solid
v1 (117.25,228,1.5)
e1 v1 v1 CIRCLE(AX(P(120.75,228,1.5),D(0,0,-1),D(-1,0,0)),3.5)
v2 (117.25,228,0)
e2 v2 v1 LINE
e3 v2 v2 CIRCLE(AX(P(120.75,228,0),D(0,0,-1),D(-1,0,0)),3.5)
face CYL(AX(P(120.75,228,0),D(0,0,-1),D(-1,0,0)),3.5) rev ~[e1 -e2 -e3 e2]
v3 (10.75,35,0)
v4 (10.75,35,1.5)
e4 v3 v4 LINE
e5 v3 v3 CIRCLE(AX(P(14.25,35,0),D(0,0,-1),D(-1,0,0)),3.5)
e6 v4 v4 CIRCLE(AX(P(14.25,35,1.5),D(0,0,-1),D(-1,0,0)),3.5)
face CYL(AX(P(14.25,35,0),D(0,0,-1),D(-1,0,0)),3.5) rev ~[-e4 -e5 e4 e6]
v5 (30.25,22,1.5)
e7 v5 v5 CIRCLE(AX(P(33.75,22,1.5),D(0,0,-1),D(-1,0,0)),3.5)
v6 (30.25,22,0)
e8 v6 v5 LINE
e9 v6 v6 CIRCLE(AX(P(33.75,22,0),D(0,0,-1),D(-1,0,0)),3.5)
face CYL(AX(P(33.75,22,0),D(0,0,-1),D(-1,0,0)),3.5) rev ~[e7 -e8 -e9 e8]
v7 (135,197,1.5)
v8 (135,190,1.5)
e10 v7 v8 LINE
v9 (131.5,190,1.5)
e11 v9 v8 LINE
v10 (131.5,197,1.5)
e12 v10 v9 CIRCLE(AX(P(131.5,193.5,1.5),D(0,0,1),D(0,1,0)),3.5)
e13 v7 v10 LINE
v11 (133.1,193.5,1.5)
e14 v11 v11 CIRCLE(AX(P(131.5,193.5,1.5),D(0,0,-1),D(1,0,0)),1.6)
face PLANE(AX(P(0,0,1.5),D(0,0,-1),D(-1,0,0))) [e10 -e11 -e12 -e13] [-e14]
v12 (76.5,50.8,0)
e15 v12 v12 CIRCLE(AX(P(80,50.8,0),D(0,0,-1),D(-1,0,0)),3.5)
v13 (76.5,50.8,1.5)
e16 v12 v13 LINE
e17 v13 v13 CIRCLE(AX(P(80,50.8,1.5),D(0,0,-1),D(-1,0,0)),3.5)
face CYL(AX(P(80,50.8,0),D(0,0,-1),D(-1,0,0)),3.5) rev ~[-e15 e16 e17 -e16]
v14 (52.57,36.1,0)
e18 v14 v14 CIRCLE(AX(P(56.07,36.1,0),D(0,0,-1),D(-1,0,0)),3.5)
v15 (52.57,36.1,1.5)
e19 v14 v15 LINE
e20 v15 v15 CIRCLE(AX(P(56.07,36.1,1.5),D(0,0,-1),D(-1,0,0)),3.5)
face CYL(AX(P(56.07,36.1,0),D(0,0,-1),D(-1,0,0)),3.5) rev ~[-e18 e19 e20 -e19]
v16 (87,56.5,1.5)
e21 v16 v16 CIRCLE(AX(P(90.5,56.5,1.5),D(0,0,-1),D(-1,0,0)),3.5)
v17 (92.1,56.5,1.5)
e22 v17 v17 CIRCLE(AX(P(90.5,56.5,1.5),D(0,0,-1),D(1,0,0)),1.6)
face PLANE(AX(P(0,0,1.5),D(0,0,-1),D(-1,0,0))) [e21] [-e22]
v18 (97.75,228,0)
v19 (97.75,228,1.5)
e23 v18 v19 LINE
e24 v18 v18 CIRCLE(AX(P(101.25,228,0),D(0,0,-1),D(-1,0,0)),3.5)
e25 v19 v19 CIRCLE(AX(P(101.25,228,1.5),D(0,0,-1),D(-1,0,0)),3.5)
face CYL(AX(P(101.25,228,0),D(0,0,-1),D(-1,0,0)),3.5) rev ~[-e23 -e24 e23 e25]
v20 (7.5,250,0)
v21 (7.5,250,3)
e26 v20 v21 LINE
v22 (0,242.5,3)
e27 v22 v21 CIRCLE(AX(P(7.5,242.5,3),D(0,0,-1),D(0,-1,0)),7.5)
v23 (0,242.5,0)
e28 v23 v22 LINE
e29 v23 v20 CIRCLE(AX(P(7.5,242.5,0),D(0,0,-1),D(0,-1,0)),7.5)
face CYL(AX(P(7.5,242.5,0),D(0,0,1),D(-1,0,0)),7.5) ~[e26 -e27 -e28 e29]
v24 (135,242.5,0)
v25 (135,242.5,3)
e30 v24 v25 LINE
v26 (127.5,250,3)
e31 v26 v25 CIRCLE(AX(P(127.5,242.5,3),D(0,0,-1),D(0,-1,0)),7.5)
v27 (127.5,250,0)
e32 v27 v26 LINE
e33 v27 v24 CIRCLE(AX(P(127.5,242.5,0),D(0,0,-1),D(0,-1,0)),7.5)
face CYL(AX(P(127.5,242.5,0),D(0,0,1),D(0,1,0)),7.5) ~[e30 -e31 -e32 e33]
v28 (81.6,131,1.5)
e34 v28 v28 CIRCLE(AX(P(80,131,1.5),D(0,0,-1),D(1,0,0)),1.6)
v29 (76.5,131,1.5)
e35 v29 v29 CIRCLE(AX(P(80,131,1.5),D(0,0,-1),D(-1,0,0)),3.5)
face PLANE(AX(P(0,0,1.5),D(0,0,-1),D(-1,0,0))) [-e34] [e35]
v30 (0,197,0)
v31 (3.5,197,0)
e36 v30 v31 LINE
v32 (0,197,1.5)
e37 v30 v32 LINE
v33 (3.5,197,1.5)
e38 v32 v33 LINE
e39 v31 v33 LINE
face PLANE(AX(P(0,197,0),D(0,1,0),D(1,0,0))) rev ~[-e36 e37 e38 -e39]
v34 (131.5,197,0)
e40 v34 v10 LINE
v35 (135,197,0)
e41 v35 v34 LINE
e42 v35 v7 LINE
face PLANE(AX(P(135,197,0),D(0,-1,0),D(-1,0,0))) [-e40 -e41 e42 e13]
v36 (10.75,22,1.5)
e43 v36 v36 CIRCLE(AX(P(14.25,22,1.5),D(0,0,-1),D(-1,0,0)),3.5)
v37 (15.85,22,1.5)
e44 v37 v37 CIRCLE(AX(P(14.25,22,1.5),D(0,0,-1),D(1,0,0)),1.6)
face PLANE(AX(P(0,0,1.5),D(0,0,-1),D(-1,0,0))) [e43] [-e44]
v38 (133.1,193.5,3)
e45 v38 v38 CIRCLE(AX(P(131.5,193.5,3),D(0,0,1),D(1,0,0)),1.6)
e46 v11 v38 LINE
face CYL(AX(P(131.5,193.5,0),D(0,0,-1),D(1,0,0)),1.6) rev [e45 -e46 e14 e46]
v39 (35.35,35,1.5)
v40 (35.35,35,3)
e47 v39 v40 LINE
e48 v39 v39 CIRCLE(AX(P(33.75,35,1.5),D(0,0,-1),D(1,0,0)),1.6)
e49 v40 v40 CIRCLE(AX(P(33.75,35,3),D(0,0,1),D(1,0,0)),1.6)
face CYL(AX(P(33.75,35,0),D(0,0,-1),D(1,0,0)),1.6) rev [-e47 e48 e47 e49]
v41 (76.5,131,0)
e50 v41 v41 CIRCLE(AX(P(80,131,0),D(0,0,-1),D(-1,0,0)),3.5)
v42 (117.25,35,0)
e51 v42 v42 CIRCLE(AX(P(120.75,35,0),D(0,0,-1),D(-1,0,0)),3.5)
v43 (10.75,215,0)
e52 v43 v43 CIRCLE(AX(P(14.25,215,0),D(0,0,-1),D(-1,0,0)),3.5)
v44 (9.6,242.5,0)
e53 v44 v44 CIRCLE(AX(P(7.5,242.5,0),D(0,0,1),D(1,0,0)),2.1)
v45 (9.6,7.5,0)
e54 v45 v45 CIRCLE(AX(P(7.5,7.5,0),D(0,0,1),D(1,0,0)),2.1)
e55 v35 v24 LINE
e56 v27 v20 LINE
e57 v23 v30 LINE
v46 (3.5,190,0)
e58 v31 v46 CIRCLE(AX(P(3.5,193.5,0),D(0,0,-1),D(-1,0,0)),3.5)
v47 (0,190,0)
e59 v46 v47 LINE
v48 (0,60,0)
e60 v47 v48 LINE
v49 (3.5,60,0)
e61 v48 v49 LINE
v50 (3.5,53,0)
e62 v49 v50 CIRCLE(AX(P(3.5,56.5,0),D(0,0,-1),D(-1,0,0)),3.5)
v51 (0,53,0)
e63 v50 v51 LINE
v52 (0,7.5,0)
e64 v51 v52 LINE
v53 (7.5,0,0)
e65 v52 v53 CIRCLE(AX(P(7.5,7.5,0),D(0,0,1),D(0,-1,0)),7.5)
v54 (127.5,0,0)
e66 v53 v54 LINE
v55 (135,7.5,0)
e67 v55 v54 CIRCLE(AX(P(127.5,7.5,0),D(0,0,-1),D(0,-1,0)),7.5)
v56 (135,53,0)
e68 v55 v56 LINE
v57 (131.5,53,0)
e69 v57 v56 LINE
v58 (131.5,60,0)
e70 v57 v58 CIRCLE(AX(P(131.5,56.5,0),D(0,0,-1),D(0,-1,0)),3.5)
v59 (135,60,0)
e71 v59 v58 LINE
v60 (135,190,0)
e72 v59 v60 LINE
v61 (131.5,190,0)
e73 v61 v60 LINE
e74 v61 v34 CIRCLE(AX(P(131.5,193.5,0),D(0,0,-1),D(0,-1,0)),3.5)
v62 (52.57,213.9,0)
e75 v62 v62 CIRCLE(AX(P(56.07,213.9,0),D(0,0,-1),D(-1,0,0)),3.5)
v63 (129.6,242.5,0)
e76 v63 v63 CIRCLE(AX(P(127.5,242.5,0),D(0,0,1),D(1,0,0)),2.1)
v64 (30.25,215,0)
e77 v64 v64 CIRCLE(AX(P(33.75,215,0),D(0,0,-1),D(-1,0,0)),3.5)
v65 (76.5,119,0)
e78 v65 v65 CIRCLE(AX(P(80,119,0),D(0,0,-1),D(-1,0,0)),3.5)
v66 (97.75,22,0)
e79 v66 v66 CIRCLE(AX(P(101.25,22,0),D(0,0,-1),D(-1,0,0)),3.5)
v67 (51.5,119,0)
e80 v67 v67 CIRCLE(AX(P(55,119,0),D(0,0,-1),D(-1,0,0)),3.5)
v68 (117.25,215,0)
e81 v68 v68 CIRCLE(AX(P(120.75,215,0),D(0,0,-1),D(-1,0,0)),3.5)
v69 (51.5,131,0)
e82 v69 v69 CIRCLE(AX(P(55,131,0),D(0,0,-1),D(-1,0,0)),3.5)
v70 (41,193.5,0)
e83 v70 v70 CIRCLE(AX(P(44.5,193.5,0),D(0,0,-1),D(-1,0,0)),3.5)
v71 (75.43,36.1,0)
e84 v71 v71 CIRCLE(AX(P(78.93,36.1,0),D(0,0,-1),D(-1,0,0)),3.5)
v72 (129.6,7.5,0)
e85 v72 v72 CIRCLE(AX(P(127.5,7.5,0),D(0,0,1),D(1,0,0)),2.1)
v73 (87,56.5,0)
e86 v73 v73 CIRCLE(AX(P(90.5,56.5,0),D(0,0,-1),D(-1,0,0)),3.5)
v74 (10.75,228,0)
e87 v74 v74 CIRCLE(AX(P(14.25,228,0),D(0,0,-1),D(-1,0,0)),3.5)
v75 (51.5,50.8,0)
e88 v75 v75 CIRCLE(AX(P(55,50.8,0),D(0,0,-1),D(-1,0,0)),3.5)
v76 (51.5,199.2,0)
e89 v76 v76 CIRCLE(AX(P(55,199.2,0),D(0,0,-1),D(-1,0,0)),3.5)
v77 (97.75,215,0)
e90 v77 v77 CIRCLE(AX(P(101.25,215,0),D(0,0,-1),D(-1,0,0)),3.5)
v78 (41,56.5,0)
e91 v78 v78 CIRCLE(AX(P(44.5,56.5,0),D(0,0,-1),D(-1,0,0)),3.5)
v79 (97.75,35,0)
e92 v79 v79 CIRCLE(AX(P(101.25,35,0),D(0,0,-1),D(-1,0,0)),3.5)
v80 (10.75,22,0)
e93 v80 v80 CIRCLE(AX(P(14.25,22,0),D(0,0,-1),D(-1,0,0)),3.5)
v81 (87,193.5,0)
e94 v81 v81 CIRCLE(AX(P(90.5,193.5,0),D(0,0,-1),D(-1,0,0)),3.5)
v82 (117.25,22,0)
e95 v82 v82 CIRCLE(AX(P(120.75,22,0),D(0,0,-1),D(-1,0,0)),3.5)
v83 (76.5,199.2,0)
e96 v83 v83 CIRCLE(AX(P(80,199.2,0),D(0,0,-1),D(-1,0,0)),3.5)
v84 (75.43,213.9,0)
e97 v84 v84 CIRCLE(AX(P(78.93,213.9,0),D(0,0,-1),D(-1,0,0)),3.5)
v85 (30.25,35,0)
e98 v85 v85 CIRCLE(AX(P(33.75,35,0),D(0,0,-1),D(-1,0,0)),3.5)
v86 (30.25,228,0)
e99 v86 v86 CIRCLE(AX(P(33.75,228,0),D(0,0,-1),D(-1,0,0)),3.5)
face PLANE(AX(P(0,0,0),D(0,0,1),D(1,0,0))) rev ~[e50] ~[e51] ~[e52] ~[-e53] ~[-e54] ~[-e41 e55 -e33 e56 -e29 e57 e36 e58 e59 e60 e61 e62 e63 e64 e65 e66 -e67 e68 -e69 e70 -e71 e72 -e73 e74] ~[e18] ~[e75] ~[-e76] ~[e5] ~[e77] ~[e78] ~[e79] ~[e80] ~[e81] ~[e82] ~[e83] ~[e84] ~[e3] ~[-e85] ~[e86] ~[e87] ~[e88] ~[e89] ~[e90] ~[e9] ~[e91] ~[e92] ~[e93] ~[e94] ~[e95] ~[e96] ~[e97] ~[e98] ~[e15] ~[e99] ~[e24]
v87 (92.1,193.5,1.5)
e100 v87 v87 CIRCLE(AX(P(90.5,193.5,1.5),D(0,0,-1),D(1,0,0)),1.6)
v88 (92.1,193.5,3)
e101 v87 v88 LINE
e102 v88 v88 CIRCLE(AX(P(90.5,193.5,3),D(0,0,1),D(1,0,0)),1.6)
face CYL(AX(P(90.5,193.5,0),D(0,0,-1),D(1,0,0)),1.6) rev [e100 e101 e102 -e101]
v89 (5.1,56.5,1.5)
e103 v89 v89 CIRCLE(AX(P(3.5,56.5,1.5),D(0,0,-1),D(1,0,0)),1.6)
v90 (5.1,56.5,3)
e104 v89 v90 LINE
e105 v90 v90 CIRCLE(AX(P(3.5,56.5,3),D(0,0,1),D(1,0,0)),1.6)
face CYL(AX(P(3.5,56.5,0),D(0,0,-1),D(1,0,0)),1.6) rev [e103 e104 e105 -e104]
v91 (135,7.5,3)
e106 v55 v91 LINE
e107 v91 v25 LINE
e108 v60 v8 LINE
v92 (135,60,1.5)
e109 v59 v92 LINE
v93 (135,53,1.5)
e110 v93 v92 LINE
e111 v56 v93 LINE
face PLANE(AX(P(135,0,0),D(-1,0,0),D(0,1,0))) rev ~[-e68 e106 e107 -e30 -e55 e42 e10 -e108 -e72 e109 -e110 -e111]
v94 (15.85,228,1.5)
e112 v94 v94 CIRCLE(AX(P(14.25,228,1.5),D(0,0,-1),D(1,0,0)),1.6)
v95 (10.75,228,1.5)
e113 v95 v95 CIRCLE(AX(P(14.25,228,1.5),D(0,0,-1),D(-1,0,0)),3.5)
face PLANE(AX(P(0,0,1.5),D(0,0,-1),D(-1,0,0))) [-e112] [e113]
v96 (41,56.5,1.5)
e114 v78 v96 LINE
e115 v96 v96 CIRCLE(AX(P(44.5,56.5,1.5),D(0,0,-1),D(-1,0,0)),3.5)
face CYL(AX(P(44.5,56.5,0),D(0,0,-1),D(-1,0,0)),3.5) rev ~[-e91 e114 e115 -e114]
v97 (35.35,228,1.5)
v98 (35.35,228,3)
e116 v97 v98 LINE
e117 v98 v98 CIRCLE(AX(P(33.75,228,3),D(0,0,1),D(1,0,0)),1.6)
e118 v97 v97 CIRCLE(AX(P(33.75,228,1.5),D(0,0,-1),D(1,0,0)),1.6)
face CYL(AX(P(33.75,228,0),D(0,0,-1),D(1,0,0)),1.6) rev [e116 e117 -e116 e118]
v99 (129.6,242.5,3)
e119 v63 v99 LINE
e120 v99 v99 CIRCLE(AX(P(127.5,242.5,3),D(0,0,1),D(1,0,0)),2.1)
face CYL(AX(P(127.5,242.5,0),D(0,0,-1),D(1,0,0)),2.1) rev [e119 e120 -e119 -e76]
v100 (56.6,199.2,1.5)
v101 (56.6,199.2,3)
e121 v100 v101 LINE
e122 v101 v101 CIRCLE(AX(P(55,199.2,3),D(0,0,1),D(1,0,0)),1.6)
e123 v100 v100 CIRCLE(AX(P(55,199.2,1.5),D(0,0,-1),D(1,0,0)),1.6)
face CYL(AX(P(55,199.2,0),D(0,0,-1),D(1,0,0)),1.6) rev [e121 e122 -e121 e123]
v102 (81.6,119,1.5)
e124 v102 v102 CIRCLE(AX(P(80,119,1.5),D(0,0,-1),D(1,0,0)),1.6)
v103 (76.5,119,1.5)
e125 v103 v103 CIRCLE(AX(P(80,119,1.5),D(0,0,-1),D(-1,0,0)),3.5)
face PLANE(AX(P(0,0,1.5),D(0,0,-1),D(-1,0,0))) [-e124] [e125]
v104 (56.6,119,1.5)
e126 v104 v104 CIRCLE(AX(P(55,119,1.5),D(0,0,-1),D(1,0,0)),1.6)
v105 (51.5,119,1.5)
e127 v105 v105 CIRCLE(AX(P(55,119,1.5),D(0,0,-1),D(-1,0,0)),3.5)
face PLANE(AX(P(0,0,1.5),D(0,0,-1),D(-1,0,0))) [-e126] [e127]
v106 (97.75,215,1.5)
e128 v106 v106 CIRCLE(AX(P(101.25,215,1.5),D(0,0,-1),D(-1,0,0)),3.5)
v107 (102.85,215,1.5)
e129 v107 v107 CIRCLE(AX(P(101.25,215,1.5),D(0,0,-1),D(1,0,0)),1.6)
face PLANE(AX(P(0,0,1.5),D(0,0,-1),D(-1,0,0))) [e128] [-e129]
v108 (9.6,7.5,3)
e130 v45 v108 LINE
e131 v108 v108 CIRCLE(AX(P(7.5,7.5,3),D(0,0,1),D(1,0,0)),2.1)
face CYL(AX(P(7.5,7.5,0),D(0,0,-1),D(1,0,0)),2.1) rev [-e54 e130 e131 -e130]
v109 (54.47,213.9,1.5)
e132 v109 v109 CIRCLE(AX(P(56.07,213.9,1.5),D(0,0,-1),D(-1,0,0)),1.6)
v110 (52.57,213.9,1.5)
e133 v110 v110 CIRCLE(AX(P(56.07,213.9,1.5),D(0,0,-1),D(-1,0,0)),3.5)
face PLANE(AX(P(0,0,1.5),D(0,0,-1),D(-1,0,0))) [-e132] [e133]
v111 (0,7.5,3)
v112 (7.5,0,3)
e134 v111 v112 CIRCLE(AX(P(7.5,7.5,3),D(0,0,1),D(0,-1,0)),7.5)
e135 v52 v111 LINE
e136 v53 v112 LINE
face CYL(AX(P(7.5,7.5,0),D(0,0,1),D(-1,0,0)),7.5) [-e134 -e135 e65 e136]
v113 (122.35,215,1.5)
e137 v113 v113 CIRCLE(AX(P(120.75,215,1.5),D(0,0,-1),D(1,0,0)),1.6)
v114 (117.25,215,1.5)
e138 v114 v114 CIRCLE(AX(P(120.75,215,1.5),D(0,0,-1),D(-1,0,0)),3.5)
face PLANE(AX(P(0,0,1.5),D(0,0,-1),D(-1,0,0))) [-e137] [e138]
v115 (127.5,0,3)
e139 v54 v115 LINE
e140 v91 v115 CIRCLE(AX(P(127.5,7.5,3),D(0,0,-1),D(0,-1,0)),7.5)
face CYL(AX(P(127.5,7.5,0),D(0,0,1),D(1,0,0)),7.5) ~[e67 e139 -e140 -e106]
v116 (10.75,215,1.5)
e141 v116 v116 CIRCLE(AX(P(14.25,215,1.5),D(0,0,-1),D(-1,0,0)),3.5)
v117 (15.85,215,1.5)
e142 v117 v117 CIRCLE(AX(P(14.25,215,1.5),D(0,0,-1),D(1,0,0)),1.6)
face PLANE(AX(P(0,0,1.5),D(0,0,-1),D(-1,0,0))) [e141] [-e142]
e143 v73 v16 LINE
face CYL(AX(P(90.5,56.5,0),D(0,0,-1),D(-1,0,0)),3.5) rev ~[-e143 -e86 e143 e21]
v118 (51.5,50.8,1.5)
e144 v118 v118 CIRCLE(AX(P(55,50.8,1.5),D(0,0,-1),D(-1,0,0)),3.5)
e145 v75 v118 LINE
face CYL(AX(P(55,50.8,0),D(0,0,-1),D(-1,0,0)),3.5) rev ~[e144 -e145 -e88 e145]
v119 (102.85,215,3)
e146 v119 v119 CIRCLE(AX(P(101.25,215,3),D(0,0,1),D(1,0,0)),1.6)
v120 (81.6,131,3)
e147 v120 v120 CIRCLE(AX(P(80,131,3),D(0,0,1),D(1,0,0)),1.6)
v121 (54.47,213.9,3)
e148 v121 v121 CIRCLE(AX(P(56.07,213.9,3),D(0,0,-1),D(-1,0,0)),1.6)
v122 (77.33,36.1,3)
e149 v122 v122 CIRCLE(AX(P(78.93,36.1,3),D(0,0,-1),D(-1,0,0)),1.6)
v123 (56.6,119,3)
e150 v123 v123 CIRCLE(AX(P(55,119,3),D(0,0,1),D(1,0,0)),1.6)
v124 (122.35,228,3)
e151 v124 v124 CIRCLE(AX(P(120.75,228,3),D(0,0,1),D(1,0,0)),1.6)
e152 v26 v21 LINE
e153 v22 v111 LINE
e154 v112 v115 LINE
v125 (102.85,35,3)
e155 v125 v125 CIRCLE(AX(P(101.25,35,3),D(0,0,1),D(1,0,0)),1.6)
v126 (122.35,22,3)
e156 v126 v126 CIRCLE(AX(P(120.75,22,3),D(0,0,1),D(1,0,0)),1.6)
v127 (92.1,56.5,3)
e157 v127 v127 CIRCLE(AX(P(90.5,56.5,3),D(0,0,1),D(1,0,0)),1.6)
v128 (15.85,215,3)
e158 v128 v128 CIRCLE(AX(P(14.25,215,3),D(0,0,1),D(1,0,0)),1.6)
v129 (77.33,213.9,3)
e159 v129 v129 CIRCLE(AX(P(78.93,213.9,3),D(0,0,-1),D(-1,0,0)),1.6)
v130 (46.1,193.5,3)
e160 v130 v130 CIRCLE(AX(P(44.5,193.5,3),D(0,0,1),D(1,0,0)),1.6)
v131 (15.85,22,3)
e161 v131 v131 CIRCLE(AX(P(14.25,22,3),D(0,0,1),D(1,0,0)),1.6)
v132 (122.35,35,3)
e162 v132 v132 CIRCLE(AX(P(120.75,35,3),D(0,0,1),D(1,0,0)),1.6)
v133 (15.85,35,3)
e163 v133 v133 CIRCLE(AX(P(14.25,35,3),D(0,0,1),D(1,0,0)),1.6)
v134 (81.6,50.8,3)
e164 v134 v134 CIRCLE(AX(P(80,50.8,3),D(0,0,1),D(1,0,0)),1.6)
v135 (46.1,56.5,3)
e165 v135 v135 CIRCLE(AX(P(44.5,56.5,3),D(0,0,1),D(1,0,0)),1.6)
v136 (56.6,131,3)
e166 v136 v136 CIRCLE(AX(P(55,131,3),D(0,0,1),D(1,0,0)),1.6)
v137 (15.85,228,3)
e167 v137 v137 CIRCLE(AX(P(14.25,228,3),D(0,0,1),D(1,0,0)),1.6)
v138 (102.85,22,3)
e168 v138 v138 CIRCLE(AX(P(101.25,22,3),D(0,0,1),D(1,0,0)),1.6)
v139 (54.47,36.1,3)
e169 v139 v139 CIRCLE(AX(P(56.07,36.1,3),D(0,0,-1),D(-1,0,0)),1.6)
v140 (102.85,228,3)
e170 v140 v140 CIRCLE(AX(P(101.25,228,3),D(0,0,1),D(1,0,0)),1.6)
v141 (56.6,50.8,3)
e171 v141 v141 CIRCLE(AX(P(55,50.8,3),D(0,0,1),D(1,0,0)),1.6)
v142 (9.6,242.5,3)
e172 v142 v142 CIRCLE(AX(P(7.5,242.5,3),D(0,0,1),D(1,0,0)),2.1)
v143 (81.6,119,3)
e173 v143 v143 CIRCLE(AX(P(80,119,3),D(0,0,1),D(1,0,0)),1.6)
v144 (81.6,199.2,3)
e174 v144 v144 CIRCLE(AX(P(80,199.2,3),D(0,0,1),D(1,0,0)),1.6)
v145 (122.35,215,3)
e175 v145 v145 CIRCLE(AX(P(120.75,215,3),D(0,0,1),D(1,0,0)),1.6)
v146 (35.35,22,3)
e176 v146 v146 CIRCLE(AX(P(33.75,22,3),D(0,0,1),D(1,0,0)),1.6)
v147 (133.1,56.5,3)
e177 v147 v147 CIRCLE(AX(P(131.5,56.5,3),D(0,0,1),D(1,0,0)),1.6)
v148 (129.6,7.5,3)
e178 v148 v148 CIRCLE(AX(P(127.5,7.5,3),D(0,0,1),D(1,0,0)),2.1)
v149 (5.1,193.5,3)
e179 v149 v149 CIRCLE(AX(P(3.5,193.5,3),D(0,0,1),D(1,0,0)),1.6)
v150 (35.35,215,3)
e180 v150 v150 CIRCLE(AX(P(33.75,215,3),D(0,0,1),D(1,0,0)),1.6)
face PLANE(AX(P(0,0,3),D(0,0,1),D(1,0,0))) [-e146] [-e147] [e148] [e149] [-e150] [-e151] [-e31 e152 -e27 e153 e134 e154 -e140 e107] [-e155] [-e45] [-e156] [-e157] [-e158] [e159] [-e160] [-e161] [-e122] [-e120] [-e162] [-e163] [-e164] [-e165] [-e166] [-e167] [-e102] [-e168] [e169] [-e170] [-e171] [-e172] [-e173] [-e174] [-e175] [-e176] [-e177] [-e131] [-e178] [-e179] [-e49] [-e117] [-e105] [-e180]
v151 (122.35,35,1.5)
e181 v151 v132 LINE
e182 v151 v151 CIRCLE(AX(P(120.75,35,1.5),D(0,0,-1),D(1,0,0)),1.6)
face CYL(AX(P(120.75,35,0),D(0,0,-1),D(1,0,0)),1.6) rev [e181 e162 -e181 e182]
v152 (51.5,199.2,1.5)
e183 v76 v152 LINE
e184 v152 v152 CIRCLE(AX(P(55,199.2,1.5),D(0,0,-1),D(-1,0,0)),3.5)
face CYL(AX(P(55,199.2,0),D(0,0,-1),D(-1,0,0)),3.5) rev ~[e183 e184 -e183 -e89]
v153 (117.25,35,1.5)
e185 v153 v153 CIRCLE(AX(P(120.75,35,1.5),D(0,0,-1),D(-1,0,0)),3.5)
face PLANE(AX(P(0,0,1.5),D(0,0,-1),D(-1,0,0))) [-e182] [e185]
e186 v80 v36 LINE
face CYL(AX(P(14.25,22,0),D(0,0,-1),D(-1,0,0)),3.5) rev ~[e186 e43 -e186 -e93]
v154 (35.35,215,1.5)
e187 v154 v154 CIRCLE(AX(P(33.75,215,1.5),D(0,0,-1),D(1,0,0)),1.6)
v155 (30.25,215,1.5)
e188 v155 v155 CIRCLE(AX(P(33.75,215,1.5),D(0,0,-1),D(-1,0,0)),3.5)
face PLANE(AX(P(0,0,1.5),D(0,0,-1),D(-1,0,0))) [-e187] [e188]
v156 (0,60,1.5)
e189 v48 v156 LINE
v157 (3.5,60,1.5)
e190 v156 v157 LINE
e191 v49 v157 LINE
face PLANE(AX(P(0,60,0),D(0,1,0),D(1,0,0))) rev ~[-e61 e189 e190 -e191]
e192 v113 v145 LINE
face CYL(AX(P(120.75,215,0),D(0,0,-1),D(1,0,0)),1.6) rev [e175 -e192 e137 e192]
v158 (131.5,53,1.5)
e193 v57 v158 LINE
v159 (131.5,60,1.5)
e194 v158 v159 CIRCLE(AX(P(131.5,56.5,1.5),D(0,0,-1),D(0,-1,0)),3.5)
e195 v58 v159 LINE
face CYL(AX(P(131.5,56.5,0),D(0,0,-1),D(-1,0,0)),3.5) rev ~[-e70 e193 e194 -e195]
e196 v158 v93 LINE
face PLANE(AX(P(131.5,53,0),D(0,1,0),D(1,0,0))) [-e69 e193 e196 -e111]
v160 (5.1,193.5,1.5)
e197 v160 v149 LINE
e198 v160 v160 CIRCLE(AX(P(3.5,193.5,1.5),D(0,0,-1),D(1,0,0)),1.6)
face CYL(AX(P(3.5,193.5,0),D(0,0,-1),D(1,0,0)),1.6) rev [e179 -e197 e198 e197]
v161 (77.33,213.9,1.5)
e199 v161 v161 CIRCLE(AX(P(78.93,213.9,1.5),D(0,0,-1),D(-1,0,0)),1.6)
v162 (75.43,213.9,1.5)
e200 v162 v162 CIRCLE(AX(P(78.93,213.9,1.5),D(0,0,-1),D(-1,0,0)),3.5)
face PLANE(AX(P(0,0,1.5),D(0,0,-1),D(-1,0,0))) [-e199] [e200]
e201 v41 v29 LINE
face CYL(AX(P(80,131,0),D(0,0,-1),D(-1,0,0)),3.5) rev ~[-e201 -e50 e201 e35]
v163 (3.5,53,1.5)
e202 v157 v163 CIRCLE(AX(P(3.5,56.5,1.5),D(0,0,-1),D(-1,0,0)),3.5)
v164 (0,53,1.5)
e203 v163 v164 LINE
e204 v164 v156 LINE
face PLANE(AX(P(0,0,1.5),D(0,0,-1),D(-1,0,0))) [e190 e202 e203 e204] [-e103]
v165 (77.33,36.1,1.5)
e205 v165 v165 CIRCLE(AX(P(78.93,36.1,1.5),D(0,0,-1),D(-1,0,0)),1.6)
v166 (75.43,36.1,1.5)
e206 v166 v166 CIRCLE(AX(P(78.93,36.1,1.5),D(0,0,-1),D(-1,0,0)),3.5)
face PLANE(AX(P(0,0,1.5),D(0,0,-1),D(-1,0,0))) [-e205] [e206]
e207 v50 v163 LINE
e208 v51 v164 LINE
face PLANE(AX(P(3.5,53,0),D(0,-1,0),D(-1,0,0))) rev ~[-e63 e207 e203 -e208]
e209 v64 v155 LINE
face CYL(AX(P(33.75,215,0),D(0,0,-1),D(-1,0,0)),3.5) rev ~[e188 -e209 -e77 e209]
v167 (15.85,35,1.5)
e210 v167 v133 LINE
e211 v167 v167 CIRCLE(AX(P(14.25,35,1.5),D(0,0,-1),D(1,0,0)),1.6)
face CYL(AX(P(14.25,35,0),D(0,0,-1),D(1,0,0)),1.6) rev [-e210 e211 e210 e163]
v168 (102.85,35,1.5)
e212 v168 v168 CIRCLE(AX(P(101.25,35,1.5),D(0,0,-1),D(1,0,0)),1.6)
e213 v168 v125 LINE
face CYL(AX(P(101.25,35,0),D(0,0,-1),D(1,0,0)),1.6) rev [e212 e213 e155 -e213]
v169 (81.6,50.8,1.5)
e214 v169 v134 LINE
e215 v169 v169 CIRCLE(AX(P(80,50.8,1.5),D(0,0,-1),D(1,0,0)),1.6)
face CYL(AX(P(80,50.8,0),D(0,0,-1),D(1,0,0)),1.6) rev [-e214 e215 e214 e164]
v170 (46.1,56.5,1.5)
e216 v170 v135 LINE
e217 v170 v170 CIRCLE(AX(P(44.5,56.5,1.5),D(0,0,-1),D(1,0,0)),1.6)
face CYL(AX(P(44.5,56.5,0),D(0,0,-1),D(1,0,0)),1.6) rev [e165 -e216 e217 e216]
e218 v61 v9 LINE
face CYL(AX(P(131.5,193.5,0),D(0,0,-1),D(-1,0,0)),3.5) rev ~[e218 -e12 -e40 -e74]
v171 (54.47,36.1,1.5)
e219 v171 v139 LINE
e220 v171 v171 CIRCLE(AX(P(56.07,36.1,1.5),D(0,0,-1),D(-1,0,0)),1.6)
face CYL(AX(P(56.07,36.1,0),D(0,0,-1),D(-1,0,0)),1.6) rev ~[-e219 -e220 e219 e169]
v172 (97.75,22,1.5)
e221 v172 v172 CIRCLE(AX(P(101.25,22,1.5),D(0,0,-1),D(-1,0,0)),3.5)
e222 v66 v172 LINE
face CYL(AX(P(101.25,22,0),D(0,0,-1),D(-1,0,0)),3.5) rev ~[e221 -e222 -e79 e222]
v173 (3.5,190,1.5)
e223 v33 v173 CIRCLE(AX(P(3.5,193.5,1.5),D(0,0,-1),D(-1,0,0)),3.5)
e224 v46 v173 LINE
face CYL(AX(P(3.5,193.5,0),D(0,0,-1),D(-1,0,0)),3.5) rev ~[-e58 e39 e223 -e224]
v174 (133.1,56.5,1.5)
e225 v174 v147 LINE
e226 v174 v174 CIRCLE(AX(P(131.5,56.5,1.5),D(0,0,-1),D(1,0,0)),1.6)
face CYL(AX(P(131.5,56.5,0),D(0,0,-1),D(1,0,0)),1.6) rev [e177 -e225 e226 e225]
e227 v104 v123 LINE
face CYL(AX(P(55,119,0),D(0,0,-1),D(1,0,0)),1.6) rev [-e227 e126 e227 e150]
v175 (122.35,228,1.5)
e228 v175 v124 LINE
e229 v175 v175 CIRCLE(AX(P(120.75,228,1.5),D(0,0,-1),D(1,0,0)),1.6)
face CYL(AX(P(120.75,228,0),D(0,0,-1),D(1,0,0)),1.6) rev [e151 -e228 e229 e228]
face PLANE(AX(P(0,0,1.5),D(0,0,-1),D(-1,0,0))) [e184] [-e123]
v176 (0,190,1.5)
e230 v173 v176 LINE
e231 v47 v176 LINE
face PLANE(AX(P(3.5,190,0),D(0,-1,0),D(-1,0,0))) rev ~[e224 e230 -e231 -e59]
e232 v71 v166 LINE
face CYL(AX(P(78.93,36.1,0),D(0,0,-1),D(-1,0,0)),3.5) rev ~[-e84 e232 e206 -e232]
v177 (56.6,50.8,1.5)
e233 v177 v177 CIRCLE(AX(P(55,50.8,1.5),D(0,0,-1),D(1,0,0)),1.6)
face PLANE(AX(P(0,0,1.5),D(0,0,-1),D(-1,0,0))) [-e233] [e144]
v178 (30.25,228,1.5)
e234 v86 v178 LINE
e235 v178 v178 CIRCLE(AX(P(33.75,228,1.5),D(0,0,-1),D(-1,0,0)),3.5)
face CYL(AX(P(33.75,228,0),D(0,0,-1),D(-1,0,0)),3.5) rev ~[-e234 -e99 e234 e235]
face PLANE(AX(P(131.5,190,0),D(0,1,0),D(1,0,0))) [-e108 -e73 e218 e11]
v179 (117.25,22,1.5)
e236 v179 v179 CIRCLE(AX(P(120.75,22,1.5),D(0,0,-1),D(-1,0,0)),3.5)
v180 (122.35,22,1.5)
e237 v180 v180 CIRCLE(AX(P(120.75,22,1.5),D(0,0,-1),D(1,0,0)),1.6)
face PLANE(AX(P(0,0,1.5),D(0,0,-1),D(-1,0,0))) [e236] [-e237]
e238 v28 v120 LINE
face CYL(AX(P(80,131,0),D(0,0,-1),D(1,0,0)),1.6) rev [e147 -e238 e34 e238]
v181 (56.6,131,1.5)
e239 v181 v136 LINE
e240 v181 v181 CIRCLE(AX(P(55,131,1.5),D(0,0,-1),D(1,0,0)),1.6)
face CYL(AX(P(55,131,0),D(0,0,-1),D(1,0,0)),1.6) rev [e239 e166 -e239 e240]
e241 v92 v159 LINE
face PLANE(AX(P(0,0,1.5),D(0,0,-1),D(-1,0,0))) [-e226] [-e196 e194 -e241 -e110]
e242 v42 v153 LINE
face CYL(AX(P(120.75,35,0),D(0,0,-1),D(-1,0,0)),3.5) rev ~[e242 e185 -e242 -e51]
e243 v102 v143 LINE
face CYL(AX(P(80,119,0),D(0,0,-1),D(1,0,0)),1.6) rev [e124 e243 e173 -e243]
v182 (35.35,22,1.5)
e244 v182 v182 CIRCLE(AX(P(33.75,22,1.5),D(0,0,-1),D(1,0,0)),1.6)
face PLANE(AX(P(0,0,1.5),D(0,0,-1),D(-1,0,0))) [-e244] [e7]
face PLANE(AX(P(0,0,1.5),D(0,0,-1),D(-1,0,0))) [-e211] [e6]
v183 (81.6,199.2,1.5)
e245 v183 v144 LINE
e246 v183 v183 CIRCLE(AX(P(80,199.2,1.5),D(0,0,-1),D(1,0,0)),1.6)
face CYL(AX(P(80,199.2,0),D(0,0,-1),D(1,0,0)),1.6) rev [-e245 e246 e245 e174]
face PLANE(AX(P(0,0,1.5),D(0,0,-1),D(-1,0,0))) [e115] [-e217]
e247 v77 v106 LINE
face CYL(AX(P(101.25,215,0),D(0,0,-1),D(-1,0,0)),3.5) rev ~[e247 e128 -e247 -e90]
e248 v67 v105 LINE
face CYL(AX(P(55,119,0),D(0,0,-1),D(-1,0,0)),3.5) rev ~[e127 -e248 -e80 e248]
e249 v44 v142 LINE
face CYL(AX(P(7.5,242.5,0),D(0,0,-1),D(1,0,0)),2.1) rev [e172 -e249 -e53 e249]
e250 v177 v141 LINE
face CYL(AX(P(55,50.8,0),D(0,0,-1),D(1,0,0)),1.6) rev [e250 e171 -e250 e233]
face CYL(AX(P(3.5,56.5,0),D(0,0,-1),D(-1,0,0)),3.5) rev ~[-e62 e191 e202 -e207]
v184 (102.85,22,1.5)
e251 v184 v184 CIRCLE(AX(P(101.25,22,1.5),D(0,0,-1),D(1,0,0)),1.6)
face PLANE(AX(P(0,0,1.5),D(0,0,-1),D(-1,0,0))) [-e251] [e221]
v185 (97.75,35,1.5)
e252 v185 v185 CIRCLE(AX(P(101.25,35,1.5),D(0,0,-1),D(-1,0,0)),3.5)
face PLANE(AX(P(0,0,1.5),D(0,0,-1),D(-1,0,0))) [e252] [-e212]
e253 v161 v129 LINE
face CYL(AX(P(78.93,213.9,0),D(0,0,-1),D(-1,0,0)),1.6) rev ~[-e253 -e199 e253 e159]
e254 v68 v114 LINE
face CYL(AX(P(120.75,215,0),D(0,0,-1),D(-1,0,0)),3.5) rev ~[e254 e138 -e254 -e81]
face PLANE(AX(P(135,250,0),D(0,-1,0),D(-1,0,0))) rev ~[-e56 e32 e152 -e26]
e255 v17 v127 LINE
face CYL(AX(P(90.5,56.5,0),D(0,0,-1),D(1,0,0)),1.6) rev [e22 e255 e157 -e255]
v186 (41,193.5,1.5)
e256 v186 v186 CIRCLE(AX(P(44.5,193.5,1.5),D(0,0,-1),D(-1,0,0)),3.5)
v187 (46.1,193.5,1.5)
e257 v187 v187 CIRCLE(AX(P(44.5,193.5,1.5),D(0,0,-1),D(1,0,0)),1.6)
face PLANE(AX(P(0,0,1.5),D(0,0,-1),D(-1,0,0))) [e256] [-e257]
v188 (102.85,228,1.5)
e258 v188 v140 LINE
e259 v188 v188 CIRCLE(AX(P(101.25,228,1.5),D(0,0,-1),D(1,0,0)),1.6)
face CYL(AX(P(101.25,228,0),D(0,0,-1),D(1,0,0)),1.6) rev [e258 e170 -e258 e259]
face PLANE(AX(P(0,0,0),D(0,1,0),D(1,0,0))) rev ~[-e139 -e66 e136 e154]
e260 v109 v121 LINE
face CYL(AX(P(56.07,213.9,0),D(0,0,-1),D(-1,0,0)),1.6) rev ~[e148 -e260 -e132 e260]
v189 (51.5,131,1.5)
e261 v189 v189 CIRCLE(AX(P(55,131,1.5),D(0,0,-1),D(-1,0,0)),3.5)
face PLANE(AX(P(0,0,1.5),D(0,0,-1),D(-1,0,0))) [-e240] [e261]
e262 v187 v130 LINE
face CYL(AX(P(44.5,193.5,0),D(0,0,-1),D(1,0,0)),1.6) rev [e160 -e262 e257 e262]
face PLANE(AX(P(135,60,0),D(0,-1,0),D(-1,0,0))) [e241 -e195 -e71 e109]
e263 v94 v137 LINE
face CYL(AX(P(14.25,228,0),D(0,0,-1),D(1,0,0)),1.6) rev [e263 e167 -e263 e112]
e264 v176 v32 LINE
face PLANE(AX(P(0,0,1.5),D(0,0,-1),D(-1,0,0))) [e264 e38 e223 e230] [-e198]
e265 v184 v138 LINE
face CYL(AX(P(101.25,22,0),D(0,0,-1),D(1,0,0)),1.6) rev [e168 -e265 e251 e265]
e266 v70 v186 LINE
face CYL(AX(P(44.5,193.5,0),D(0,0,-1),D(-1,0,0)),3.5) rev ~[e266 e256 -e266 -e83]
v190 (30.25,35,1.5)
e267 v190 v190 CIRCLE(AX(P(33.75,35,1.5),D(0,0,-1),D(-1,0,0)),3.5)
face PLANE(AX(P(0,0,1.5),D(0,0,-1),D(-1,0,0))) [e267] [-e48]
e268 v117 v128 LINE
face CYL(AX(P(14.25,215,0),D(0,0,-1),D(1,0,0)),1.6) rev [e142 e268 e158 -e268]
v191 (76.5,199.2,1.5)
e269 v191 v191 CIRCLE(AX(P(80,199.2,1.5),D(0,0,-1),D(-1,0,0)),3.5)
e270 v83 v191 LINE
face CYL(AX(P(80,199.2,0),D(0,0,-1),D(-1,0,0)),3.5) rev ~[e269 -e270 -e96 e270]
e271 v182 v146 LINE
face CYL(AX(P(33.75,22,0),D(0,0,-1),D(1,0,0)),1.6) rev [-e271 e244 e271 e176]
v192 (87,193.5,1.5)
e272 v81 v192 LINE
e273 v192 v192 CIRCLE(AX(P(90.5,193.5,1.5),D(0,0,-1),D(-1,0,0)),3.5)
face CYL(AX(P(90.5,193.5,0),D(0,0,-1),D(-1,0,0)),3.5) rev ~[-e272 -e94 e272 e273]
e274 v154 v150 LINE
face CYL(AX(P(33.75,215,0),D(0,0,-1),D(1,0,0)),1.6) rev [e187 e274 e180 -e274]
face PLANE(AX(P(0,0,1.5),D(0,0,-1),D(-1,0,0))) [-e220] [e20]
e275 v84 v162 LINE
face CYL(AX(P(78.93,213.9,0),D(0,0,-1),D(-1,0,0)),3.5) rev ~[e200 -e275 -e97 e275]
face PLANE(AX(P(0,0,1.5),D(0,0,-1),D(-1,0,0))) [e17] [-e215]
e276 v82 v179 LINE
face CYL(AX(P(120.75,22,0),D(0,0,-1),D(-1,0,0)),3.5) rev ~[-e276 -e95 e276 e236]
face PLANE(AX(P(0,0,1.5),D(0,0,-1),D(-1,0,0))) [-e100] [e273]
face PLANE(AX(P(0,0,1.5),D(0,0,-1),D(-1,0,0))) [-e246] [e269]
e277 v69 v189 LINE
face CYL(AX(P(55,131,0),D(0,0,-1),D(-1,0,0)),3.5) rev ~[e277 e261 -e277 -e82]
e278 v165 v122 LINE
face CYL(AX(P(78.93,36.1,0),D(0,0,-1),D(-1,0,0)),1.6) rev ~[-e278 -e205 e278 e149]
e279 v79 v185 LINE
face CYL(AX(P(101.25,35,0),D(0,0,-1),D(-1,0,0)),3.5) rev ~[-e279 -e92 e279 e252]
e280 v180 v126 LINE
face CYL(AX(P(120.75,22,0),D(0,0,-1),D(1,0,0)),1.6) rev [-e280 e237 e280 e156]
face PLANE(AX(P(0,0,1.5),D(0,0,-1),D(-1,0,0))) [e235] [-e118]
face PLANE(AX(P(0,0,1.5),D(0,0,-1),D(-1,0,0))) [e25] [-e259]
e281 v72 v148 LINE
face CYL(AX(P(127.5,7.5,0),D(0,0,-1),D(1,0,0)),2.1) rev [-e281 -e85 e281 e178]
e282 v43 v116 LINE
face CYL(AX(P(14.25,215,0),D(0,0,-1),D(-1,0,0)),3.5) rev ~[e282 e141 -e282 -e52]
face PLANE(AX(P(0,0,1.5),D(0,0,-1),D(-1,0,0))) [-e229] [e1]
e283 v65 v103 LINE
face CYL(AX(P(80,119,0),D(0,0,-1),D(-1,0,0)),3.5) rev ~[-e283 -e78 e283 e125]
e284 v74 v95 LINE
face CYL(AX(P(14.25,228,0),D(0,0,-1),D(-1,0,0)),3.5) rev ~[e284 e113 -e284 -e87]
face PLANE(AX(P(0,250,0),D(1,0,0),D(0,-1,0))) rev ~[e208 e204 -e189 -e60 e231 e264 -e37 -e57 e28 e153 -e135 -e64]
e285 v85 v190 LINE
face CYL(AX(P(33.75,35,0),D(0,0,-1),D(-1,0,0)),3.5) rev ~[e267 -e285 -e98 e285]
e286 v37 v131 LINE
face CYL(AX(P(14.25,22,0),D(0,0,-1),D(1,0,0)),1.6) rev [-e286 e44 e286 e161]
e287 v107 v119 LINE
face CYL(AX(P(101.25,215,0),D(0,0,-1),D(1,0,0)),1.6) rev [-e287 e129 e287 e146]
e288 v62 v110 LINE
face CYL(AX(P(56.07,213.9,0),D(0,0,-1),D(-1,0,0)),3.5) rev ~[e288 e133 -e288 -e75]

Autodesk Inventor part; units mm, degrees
ref_plane "YZ Plane" through (0, 0, 0) normal (1, 0, 0) x (0, 1, 0)
ref_plane "XZ Plane" through (0, 0, 0) normal (0, 1, 0) x (-1, 0, 0)
ref_plane "XY Plane" through (0, 0, 0) normal (0, 0, 1) x (1, 0, 0)
sketch "スケッチ1" plane through (0, 0, 0) normal (0, 0, 1) x (1, 0, 0)
  line L0 (0, 0) -> (135, 0)
  line L1 (135, 0) -> (135, 250)
  line L2 (135, 250) -> (0, 250)
  line L3 (0, 250) -> (0, 0)
  circle A0 centre (7.5, 242.5) radius 2.1
  circle A1 centre (127.5, 242.5) radius 2.1
  circle A2 centre (7.5, 7.5) radius 2.1
  circle A3 centre (127.5, 7.5) radius 2.1
  line L4 (67.5, 250) -> (67.5, 0) construction
  line L5 (0, 125) -> (135, 125) construction
  line L6 (48, 250) -> (48, 0) construction
  line L7 (0, 215) -> (48, 215) construction
  circle A4 centre (14.25, 215) radius 1.6
  line L8 (24, 215) -> (24, 125) construction
  circle A5 centre (33.75, 215) radius 1.6
  line L9 (3.5, 56.5) -> (44.5, 56.5) construction
  line L10 (44.5, 56.5) -> (44.5, 193.5) construction
  line L11 (44.5, 193.5) -> (3.5, 193.5) construction
  line L12 (3.5, 193.5) -> (3.5, 56.5) construction
  line L13 (3.5, 56.5) -> (44.5, 193.5) construction
  line L14 (44.5, 56.5) -> (3.5, 193.5) construction
  circle A6 centre (3.5, 193.5) radius 1.6
  circle A7 centre (44.5, 193.5) radius 1.6
  circle A8 centre (14.25, 35) radius 1.6
  circle A9 centre (33.75, 35) radius 1.6
  circle A10 centre (3.5, 56.5) radius 1.6
  circle A11 centre (44.5, 56.5) radius 1.6
  circle A12 centre (120.75, 215) radius 1.6
  circle A13 centre (101.25, 215) radius 1.6
  circle A14 centre (131.5, 193.5) radius 1.6
  circle A15 centre (90.5, 193.5) radius 1.6
  circle A16 centre (120.75, 35) radius 1.6
  circle A17 centre (101.25, 35) radius 1.6
  circle A18 centre (90.5, 56.5) radius 1.6
  circle A19 centre (131.5, 56.5) radius 1.6
  line L15 (135, 221) -> (0, 221) construction
  line L16 (135, 235) -> (0, 235) construction
  line L17 (135, 228) -> (0, 228) construction
  line L18 (120.75, 215) -> (120.75, 228) construction
  line L19 (101.25, 215) -> (101.25, 228) construction
  circle A20 centre (120.75, 228) radius 1.6
  circle A21 centre (101.25, 228) radius 1.6
  circle A22 centre (120.75, 22) radius 1.6
  circle A23 centre (101.25, 22) radius 1.6
  circle A24 centre (14.25, 228) radius 1.6
  circle A25 centre (33.75, 228) radius 1.6
  circle A26 centre (14.25, 22) radius 1.6
  circle A27 centre (33.75, 22) radius 1.6
  circle A28 centre (55, 131) radius 1.6
  line L20 (55, 131) -> (55, 199.2) construction
  circle A29 centre (55, 199.2) radius 1.6
  circle A30 centre (80, 131) radius 1.6
  circle A31 centre (80, 199.2) radius 1.6
  circle A32 centre (55, 119) radius 1.6
  circle A33 centre (55, 50.8) radius 1.6
  circle A34 centre (80, 119) radius 1.6
  circle A35 centre (80, 50.8) radius 1.6
  point P0 (67.5, 125)
  dimension "d0" = 135
  dimension "d1" = 250
  dimension "d2" = 7.5
  dimension "d3" = 4.2
  dimension "d4" = 7.5
  dimension "d5" = 7.5
  dimension "d6" = 7.5
  dimension "d7" = 7.5
  dimension "d8" = 7.5
  dimension "d9" = 7.5
  dimension "d10" = 7.5
  dimension "d11" = 48
  dimension "d12" = 90
  dimension "d13" = 3.2
  dimension "d14" = 9.75
  dimension "d15" = 41
  dimension "d16" = 137
  dimension "d17" = 3.2
  dimension "d22" = 96
  dimension "d23" = 15
  dimension "d24" = 14
  dimension "d25" = 7
  dimension "d26" = 3.2
  dimension "d27" = 3.2
  dimension "d28" = 12.5
  dimension "d29" = 6
  dimension "d30" = 68.2
  dimension "d31" = 7
extrude "押し出し1" add sketch "スケッチ1" along normal blind 3
fillet "フィレット1" radius 7.5 4 edges at (135, 250, 1.5) (135, 0, 1.5) (0, 250, 1.5) (0, 0, 1.5)
sketch "スケッチ2" plane through (0, 0, 0) normal (0, 0, -1) x (-1, 0, 0)
  circle A0 centre (-120.75, 22) radius 1.6 construction
  circle A1 centre (-101.25, 22) radius 1.6 construction
  circle A2 centre (-131.5, 56.5) radius 1.6 construction
  circle A3 centre (-90.5, 56.5) radius 1.6 construction
  circle A4 centre (-33.75, 22) radius 1.6 construction
  circle A5 centre (-14.25, 22) radius 1.6 construction
  circle A6 centre (-3.5, 56.5) radius 1.6 construction
  circle A7 centre (-44.5, 56.5) radius 1.6 construction
  circle A8 centre (-55, 50.8) radius 1.6 construction
  circle A9 centre (-80, 50.8) radius 1.6 construction
  circle A10 centre (-80, 119) radius 1.6 construction
  circle A11 centre (-55, 119) radius 1.6 construction
  circle A12 centre (-55, 131) radius 1.6 construction
  circle A13 centre (-80, 131) radius 1.6 construction
  circle A14 centre (-131.5, 193.5) radius 1.6 construction
  circle A15 centre (-90.5, 193.5) radius 1.6 construction
  circle A16 centre (-80, 199.2) radius 1.6 construction
  circle A17 centre (-55, 199.2) radius 1.6 construction
  circle A18 centre (-44.5, 193.5) radius 1.6 construction
  circle A19 centre (-3.5, 193.5) radius 1.6 construction
  circle A20 centre (-14.25, 228) radius 1.6 construction
  circle A21 centre (-33.75, 228) radius 1.6 construction
  circle A22 centre (-101.25, 228) radius 1.6 construction
  circle A23 centre (-120.75, 228) radius 1.6 construction
  circle A24 centre (-120.75, 22) radius 3.5
  circle A25 centre (-131.5, 56.5) radius 1.6 projected
  circle A26 centre (-131.5, 56.5) radius 3.5
  circle A27 centre (-101.25, 22) radius 1.6 projected
  circle A28 centre (-101.25, 22) radius 3.5
  circle A29 centre (-90.5, 56.5) radius 3.5
  circle A30 centre (-80, 50.8) radius 3.5
  circle A31 centre (-55, 50.8) radius 3.5
  circle A32 centre (-44.5, 56.5) radius 3.5
  circle A33 centre (-33.75, 22) radius 3.5
  circle A34 centre (-14.25, 22) radius 3.5
  circle A35 centre (-3.5, 56.5) radius 3.5
  circle A36 centre (-80, 119) radius 3.5
  circle A37 centre (-55, 119) radius 3.5
  circle A38 centre (-55, 131) radius 3.5
  circle A39 centre (-80, 131) radius 3.5
  circle A40 centre (-131.5, 193.5) radius 3.5
  circle A41 centre (-90.5, 193.5) radius 3.5
  circle A42 centre (-120.75, 228) radius 3.5
  circle A43 centre (-101.25, 228) radius 3.5
  circle A44 centre (-80, 199.2) radius 1.6 projected
  circle A45 centre (-80, 199.2) radius 3.5
  circle A46 centre (-55, 199.2) radius 3.5
  circle A47 centre (-44.5, 193.5) radius 3.5
  circle A48 centre (-3.5, 193.5) radius 3.5
  circle A49 centre (-33.75, 228) radius 1.6 projected
  circle A50 centre (-33.75, 228) radius 3.5
  circle A51 centre (-14.25, 228) radius 3.5
  line L0 (-131.5, 53) -> (-135, 53)
  line L1 (-135, 53) -> (-135, 60)
  line L2 (-135, 60) -> (-131.5, 60)
  line L3 (-131.5, 60) -> (-131.5, 53)
  line L4 (-135, 7.5) -> (-135, 242.5) projected
  line L5 (-135, 7.5) -> (-135, 242.5) projected
  line L6 (-131.5, 190) -> (-135, 190)
  line L7 (-135, 190) -> (-135, 197)
  line L8 (-135, 197) -> (-131.5, 197)
  line L9 (-131.5, 197) -> (-131.5, 190)
  line L10 (0, 242.5) -> (0, 7.5) projected
  line L11 (-3.5, 53) -> (0, 53)
  line L12 (0, 53) -> (0, 60)
  line L13 (0, 60) -> (-3.5, 60)
  line L14 (-3.5, 60) -> (-3.5, 53)
  line L15 (-3.5, 190) -> (0, 190)
  line L16 (0, 190) -> (0, 197)
  line L17 (0, 197) -> (-3.5, 197)
  line L18 (-3.5, 197) -> (-3.5, 190)
  point P0 (0, 0)
  dimension "d32" = 7
extrude "押し出し2" cut sketch "スケッチ2" against normal blind 1.5
sketch "スケッチ3" plane through (0, 0, 0) normal (0, 0, -1) x (-1, 0, 0)
  circle A0 centre (-120.75, 35) radius 1.6 construction
  circle A1 centre (-101.25, 35) radius 1.6 construction
  circle A2 centre (-33.75, 35) radius 1.6 construction
  circle A3 centre (-14.25, 35) radius 1.6 construction
  circle A4 centre (-120.75, 215) radius 1.6 construction
  circle A5 centre (-101.25, 215) radius 1.6 construction
  circle A6 centre (-33.75, 215) radius 1.6 construction
  circle A7 centre (-14.25, 215) radius 1.6 construction
  circle A8 centre (-120.75, 215) radius 1.6 projected
  circle A9 centre (-120.75, 215) radius 3.5
  circle A10 centre (-101.25, 215) radius 1.6 projected
  circle A11 centre (-101.25, 215) radius 3.5
  circle A12 centre (-33.75, 215) radius 3.5
  circle A13 centre (-14.25, 215) radius 1.6 projected
  circle A14 centre (-14.25, 215) radius 3.5
  circle A15 centre (-120.75, 35) radius 1.6 projected
  circle A16 centre (-120.75, 35) radius 3.5
  circle A17 centre (-101.25, 35) radius 3.5
  circle A18 centre (-33.75, 35) radius 1.6 projected
  circle A19 centre (-33.75, 35) radius 3.5
  circle A20 centre (-14.25, 35) radius 1.6 projected
  circle A21 centre (-14.25, 35) radius 3.5
  circle A22 centre (-120.75, 228) radius 3.5 projected
  point P0 (0, 0)
extrude "押し出し3" cut sketch "スケッチ3" against normal up to surface (1.5 mm away) contours A9 | A11 | A12 | A14 | A16 | A17 | A19 | A21
sketch "スケッチ4" plane through (0, 0, 0) normal (0, 0, -1) x (-1, 0, 0)
  arc A0 (-135, 7.5) -> (-127.5, 0) centre (-127.5, 7.5) ccw construction
  arc A1 (-7.5, 0) -> (0, 7.5) centre (-7.5, 7.5) ccw construction
  arc A2 (0, 242.5) -> (-7.5, 250) centre (-7.5, 242.5) ccw construction
  arc A3 (-127.5, 250) -> (-135, 242.5) centre (-127.5, 242.5) ccw construction
  line L0 (-127.5, 7.5) -> (-7.5, 242.5) construction
  line L1 (-7.5, 242.5) -> (-7.5, 7.5) construction
  line L2 (-7.5, 7.5) -> (-127.5, 242.5) construction
  line L3 (-127.5, 242.5) -> (-127.5, 7.5) construction
  line L4 (-56.07, 36.1) -> (-78.93, 36.1) construction
  line L5 (-78.93, 36.1) -> (-78.93, 213.9) construction
  line L6 (-78.93, 213.9) -> (-56.07, 213.9) construction
  line L7 (-56.07, 213.9) -> (-56.07, 36.1) construction
  line L8 (-56.07, 36.1) -> (-78.93, 213.9) construction
  line L9 (-78.93, 36.1) -> (-56.07, 213.9) construction
  circle A4 centre (-78.93, 36.1) radius 1.6
  circle A5 centre (-56.07, 36.1) radius 1.6
  circle A6 centre (-78.93, 213.9) radius 1.6
  circle A7 centre (-56.07, 213.9) radius 1.6
  circle A8 centre (-80, 50.8) radius 1.6 projected
  point P0 (0, 0)
  point P1 (-67.5, 125)
  dimension "d37" = 22.86
  dimension "d38" = 177.8
extrude "押し出し4" cut sketch "スケッチ4" against normal up to surface (3 mm away) contours A4 | A5 | A6 | A7
sketch "スケッチ5" plane through (0, 0, 0) normal (0, 0, -1) x (-1, 0, 0)
  circle A0 centre (-78.93, 36.1) radius 1.6 construction
  circle A1 centre (-56.07, 36.1) radius 1.6 construction
  circle A2 centre (-56.07, 213.9) radius 1.6 construction
  circle A3 centre (-78.93, 213.9) radius 1.6 construction
  circle A4 centre (-78.93, 36.1) radius 3.5
  circle A5 centre (-56.07, 36.1) radius 3.5
  circle A6 centre (-78.93, 213.9) radius 3.5
  circle A7 centre (-56.07, 213.9) radius 3.5
  circle A8 centre (-80, 50.8) radius 3.5 construction
  point P0 (0, 0)
extrude "押し出し5" cut sketch "スケッチ5" against normal up to surface (1.5 mm away)
equation "\"d4\" = d2"
equation "\"d5\" = d2"
equation "\"d6\" = d4"
equation "\"d7\" = d2"
equation "\"d8\" = d7"
equation "\"d9\" = d4"
equation "\"d10\" = d9"
equation "\"d25\" = 0.5 * d24"
properties part number "bottom" material "アルミニウム 6061"
